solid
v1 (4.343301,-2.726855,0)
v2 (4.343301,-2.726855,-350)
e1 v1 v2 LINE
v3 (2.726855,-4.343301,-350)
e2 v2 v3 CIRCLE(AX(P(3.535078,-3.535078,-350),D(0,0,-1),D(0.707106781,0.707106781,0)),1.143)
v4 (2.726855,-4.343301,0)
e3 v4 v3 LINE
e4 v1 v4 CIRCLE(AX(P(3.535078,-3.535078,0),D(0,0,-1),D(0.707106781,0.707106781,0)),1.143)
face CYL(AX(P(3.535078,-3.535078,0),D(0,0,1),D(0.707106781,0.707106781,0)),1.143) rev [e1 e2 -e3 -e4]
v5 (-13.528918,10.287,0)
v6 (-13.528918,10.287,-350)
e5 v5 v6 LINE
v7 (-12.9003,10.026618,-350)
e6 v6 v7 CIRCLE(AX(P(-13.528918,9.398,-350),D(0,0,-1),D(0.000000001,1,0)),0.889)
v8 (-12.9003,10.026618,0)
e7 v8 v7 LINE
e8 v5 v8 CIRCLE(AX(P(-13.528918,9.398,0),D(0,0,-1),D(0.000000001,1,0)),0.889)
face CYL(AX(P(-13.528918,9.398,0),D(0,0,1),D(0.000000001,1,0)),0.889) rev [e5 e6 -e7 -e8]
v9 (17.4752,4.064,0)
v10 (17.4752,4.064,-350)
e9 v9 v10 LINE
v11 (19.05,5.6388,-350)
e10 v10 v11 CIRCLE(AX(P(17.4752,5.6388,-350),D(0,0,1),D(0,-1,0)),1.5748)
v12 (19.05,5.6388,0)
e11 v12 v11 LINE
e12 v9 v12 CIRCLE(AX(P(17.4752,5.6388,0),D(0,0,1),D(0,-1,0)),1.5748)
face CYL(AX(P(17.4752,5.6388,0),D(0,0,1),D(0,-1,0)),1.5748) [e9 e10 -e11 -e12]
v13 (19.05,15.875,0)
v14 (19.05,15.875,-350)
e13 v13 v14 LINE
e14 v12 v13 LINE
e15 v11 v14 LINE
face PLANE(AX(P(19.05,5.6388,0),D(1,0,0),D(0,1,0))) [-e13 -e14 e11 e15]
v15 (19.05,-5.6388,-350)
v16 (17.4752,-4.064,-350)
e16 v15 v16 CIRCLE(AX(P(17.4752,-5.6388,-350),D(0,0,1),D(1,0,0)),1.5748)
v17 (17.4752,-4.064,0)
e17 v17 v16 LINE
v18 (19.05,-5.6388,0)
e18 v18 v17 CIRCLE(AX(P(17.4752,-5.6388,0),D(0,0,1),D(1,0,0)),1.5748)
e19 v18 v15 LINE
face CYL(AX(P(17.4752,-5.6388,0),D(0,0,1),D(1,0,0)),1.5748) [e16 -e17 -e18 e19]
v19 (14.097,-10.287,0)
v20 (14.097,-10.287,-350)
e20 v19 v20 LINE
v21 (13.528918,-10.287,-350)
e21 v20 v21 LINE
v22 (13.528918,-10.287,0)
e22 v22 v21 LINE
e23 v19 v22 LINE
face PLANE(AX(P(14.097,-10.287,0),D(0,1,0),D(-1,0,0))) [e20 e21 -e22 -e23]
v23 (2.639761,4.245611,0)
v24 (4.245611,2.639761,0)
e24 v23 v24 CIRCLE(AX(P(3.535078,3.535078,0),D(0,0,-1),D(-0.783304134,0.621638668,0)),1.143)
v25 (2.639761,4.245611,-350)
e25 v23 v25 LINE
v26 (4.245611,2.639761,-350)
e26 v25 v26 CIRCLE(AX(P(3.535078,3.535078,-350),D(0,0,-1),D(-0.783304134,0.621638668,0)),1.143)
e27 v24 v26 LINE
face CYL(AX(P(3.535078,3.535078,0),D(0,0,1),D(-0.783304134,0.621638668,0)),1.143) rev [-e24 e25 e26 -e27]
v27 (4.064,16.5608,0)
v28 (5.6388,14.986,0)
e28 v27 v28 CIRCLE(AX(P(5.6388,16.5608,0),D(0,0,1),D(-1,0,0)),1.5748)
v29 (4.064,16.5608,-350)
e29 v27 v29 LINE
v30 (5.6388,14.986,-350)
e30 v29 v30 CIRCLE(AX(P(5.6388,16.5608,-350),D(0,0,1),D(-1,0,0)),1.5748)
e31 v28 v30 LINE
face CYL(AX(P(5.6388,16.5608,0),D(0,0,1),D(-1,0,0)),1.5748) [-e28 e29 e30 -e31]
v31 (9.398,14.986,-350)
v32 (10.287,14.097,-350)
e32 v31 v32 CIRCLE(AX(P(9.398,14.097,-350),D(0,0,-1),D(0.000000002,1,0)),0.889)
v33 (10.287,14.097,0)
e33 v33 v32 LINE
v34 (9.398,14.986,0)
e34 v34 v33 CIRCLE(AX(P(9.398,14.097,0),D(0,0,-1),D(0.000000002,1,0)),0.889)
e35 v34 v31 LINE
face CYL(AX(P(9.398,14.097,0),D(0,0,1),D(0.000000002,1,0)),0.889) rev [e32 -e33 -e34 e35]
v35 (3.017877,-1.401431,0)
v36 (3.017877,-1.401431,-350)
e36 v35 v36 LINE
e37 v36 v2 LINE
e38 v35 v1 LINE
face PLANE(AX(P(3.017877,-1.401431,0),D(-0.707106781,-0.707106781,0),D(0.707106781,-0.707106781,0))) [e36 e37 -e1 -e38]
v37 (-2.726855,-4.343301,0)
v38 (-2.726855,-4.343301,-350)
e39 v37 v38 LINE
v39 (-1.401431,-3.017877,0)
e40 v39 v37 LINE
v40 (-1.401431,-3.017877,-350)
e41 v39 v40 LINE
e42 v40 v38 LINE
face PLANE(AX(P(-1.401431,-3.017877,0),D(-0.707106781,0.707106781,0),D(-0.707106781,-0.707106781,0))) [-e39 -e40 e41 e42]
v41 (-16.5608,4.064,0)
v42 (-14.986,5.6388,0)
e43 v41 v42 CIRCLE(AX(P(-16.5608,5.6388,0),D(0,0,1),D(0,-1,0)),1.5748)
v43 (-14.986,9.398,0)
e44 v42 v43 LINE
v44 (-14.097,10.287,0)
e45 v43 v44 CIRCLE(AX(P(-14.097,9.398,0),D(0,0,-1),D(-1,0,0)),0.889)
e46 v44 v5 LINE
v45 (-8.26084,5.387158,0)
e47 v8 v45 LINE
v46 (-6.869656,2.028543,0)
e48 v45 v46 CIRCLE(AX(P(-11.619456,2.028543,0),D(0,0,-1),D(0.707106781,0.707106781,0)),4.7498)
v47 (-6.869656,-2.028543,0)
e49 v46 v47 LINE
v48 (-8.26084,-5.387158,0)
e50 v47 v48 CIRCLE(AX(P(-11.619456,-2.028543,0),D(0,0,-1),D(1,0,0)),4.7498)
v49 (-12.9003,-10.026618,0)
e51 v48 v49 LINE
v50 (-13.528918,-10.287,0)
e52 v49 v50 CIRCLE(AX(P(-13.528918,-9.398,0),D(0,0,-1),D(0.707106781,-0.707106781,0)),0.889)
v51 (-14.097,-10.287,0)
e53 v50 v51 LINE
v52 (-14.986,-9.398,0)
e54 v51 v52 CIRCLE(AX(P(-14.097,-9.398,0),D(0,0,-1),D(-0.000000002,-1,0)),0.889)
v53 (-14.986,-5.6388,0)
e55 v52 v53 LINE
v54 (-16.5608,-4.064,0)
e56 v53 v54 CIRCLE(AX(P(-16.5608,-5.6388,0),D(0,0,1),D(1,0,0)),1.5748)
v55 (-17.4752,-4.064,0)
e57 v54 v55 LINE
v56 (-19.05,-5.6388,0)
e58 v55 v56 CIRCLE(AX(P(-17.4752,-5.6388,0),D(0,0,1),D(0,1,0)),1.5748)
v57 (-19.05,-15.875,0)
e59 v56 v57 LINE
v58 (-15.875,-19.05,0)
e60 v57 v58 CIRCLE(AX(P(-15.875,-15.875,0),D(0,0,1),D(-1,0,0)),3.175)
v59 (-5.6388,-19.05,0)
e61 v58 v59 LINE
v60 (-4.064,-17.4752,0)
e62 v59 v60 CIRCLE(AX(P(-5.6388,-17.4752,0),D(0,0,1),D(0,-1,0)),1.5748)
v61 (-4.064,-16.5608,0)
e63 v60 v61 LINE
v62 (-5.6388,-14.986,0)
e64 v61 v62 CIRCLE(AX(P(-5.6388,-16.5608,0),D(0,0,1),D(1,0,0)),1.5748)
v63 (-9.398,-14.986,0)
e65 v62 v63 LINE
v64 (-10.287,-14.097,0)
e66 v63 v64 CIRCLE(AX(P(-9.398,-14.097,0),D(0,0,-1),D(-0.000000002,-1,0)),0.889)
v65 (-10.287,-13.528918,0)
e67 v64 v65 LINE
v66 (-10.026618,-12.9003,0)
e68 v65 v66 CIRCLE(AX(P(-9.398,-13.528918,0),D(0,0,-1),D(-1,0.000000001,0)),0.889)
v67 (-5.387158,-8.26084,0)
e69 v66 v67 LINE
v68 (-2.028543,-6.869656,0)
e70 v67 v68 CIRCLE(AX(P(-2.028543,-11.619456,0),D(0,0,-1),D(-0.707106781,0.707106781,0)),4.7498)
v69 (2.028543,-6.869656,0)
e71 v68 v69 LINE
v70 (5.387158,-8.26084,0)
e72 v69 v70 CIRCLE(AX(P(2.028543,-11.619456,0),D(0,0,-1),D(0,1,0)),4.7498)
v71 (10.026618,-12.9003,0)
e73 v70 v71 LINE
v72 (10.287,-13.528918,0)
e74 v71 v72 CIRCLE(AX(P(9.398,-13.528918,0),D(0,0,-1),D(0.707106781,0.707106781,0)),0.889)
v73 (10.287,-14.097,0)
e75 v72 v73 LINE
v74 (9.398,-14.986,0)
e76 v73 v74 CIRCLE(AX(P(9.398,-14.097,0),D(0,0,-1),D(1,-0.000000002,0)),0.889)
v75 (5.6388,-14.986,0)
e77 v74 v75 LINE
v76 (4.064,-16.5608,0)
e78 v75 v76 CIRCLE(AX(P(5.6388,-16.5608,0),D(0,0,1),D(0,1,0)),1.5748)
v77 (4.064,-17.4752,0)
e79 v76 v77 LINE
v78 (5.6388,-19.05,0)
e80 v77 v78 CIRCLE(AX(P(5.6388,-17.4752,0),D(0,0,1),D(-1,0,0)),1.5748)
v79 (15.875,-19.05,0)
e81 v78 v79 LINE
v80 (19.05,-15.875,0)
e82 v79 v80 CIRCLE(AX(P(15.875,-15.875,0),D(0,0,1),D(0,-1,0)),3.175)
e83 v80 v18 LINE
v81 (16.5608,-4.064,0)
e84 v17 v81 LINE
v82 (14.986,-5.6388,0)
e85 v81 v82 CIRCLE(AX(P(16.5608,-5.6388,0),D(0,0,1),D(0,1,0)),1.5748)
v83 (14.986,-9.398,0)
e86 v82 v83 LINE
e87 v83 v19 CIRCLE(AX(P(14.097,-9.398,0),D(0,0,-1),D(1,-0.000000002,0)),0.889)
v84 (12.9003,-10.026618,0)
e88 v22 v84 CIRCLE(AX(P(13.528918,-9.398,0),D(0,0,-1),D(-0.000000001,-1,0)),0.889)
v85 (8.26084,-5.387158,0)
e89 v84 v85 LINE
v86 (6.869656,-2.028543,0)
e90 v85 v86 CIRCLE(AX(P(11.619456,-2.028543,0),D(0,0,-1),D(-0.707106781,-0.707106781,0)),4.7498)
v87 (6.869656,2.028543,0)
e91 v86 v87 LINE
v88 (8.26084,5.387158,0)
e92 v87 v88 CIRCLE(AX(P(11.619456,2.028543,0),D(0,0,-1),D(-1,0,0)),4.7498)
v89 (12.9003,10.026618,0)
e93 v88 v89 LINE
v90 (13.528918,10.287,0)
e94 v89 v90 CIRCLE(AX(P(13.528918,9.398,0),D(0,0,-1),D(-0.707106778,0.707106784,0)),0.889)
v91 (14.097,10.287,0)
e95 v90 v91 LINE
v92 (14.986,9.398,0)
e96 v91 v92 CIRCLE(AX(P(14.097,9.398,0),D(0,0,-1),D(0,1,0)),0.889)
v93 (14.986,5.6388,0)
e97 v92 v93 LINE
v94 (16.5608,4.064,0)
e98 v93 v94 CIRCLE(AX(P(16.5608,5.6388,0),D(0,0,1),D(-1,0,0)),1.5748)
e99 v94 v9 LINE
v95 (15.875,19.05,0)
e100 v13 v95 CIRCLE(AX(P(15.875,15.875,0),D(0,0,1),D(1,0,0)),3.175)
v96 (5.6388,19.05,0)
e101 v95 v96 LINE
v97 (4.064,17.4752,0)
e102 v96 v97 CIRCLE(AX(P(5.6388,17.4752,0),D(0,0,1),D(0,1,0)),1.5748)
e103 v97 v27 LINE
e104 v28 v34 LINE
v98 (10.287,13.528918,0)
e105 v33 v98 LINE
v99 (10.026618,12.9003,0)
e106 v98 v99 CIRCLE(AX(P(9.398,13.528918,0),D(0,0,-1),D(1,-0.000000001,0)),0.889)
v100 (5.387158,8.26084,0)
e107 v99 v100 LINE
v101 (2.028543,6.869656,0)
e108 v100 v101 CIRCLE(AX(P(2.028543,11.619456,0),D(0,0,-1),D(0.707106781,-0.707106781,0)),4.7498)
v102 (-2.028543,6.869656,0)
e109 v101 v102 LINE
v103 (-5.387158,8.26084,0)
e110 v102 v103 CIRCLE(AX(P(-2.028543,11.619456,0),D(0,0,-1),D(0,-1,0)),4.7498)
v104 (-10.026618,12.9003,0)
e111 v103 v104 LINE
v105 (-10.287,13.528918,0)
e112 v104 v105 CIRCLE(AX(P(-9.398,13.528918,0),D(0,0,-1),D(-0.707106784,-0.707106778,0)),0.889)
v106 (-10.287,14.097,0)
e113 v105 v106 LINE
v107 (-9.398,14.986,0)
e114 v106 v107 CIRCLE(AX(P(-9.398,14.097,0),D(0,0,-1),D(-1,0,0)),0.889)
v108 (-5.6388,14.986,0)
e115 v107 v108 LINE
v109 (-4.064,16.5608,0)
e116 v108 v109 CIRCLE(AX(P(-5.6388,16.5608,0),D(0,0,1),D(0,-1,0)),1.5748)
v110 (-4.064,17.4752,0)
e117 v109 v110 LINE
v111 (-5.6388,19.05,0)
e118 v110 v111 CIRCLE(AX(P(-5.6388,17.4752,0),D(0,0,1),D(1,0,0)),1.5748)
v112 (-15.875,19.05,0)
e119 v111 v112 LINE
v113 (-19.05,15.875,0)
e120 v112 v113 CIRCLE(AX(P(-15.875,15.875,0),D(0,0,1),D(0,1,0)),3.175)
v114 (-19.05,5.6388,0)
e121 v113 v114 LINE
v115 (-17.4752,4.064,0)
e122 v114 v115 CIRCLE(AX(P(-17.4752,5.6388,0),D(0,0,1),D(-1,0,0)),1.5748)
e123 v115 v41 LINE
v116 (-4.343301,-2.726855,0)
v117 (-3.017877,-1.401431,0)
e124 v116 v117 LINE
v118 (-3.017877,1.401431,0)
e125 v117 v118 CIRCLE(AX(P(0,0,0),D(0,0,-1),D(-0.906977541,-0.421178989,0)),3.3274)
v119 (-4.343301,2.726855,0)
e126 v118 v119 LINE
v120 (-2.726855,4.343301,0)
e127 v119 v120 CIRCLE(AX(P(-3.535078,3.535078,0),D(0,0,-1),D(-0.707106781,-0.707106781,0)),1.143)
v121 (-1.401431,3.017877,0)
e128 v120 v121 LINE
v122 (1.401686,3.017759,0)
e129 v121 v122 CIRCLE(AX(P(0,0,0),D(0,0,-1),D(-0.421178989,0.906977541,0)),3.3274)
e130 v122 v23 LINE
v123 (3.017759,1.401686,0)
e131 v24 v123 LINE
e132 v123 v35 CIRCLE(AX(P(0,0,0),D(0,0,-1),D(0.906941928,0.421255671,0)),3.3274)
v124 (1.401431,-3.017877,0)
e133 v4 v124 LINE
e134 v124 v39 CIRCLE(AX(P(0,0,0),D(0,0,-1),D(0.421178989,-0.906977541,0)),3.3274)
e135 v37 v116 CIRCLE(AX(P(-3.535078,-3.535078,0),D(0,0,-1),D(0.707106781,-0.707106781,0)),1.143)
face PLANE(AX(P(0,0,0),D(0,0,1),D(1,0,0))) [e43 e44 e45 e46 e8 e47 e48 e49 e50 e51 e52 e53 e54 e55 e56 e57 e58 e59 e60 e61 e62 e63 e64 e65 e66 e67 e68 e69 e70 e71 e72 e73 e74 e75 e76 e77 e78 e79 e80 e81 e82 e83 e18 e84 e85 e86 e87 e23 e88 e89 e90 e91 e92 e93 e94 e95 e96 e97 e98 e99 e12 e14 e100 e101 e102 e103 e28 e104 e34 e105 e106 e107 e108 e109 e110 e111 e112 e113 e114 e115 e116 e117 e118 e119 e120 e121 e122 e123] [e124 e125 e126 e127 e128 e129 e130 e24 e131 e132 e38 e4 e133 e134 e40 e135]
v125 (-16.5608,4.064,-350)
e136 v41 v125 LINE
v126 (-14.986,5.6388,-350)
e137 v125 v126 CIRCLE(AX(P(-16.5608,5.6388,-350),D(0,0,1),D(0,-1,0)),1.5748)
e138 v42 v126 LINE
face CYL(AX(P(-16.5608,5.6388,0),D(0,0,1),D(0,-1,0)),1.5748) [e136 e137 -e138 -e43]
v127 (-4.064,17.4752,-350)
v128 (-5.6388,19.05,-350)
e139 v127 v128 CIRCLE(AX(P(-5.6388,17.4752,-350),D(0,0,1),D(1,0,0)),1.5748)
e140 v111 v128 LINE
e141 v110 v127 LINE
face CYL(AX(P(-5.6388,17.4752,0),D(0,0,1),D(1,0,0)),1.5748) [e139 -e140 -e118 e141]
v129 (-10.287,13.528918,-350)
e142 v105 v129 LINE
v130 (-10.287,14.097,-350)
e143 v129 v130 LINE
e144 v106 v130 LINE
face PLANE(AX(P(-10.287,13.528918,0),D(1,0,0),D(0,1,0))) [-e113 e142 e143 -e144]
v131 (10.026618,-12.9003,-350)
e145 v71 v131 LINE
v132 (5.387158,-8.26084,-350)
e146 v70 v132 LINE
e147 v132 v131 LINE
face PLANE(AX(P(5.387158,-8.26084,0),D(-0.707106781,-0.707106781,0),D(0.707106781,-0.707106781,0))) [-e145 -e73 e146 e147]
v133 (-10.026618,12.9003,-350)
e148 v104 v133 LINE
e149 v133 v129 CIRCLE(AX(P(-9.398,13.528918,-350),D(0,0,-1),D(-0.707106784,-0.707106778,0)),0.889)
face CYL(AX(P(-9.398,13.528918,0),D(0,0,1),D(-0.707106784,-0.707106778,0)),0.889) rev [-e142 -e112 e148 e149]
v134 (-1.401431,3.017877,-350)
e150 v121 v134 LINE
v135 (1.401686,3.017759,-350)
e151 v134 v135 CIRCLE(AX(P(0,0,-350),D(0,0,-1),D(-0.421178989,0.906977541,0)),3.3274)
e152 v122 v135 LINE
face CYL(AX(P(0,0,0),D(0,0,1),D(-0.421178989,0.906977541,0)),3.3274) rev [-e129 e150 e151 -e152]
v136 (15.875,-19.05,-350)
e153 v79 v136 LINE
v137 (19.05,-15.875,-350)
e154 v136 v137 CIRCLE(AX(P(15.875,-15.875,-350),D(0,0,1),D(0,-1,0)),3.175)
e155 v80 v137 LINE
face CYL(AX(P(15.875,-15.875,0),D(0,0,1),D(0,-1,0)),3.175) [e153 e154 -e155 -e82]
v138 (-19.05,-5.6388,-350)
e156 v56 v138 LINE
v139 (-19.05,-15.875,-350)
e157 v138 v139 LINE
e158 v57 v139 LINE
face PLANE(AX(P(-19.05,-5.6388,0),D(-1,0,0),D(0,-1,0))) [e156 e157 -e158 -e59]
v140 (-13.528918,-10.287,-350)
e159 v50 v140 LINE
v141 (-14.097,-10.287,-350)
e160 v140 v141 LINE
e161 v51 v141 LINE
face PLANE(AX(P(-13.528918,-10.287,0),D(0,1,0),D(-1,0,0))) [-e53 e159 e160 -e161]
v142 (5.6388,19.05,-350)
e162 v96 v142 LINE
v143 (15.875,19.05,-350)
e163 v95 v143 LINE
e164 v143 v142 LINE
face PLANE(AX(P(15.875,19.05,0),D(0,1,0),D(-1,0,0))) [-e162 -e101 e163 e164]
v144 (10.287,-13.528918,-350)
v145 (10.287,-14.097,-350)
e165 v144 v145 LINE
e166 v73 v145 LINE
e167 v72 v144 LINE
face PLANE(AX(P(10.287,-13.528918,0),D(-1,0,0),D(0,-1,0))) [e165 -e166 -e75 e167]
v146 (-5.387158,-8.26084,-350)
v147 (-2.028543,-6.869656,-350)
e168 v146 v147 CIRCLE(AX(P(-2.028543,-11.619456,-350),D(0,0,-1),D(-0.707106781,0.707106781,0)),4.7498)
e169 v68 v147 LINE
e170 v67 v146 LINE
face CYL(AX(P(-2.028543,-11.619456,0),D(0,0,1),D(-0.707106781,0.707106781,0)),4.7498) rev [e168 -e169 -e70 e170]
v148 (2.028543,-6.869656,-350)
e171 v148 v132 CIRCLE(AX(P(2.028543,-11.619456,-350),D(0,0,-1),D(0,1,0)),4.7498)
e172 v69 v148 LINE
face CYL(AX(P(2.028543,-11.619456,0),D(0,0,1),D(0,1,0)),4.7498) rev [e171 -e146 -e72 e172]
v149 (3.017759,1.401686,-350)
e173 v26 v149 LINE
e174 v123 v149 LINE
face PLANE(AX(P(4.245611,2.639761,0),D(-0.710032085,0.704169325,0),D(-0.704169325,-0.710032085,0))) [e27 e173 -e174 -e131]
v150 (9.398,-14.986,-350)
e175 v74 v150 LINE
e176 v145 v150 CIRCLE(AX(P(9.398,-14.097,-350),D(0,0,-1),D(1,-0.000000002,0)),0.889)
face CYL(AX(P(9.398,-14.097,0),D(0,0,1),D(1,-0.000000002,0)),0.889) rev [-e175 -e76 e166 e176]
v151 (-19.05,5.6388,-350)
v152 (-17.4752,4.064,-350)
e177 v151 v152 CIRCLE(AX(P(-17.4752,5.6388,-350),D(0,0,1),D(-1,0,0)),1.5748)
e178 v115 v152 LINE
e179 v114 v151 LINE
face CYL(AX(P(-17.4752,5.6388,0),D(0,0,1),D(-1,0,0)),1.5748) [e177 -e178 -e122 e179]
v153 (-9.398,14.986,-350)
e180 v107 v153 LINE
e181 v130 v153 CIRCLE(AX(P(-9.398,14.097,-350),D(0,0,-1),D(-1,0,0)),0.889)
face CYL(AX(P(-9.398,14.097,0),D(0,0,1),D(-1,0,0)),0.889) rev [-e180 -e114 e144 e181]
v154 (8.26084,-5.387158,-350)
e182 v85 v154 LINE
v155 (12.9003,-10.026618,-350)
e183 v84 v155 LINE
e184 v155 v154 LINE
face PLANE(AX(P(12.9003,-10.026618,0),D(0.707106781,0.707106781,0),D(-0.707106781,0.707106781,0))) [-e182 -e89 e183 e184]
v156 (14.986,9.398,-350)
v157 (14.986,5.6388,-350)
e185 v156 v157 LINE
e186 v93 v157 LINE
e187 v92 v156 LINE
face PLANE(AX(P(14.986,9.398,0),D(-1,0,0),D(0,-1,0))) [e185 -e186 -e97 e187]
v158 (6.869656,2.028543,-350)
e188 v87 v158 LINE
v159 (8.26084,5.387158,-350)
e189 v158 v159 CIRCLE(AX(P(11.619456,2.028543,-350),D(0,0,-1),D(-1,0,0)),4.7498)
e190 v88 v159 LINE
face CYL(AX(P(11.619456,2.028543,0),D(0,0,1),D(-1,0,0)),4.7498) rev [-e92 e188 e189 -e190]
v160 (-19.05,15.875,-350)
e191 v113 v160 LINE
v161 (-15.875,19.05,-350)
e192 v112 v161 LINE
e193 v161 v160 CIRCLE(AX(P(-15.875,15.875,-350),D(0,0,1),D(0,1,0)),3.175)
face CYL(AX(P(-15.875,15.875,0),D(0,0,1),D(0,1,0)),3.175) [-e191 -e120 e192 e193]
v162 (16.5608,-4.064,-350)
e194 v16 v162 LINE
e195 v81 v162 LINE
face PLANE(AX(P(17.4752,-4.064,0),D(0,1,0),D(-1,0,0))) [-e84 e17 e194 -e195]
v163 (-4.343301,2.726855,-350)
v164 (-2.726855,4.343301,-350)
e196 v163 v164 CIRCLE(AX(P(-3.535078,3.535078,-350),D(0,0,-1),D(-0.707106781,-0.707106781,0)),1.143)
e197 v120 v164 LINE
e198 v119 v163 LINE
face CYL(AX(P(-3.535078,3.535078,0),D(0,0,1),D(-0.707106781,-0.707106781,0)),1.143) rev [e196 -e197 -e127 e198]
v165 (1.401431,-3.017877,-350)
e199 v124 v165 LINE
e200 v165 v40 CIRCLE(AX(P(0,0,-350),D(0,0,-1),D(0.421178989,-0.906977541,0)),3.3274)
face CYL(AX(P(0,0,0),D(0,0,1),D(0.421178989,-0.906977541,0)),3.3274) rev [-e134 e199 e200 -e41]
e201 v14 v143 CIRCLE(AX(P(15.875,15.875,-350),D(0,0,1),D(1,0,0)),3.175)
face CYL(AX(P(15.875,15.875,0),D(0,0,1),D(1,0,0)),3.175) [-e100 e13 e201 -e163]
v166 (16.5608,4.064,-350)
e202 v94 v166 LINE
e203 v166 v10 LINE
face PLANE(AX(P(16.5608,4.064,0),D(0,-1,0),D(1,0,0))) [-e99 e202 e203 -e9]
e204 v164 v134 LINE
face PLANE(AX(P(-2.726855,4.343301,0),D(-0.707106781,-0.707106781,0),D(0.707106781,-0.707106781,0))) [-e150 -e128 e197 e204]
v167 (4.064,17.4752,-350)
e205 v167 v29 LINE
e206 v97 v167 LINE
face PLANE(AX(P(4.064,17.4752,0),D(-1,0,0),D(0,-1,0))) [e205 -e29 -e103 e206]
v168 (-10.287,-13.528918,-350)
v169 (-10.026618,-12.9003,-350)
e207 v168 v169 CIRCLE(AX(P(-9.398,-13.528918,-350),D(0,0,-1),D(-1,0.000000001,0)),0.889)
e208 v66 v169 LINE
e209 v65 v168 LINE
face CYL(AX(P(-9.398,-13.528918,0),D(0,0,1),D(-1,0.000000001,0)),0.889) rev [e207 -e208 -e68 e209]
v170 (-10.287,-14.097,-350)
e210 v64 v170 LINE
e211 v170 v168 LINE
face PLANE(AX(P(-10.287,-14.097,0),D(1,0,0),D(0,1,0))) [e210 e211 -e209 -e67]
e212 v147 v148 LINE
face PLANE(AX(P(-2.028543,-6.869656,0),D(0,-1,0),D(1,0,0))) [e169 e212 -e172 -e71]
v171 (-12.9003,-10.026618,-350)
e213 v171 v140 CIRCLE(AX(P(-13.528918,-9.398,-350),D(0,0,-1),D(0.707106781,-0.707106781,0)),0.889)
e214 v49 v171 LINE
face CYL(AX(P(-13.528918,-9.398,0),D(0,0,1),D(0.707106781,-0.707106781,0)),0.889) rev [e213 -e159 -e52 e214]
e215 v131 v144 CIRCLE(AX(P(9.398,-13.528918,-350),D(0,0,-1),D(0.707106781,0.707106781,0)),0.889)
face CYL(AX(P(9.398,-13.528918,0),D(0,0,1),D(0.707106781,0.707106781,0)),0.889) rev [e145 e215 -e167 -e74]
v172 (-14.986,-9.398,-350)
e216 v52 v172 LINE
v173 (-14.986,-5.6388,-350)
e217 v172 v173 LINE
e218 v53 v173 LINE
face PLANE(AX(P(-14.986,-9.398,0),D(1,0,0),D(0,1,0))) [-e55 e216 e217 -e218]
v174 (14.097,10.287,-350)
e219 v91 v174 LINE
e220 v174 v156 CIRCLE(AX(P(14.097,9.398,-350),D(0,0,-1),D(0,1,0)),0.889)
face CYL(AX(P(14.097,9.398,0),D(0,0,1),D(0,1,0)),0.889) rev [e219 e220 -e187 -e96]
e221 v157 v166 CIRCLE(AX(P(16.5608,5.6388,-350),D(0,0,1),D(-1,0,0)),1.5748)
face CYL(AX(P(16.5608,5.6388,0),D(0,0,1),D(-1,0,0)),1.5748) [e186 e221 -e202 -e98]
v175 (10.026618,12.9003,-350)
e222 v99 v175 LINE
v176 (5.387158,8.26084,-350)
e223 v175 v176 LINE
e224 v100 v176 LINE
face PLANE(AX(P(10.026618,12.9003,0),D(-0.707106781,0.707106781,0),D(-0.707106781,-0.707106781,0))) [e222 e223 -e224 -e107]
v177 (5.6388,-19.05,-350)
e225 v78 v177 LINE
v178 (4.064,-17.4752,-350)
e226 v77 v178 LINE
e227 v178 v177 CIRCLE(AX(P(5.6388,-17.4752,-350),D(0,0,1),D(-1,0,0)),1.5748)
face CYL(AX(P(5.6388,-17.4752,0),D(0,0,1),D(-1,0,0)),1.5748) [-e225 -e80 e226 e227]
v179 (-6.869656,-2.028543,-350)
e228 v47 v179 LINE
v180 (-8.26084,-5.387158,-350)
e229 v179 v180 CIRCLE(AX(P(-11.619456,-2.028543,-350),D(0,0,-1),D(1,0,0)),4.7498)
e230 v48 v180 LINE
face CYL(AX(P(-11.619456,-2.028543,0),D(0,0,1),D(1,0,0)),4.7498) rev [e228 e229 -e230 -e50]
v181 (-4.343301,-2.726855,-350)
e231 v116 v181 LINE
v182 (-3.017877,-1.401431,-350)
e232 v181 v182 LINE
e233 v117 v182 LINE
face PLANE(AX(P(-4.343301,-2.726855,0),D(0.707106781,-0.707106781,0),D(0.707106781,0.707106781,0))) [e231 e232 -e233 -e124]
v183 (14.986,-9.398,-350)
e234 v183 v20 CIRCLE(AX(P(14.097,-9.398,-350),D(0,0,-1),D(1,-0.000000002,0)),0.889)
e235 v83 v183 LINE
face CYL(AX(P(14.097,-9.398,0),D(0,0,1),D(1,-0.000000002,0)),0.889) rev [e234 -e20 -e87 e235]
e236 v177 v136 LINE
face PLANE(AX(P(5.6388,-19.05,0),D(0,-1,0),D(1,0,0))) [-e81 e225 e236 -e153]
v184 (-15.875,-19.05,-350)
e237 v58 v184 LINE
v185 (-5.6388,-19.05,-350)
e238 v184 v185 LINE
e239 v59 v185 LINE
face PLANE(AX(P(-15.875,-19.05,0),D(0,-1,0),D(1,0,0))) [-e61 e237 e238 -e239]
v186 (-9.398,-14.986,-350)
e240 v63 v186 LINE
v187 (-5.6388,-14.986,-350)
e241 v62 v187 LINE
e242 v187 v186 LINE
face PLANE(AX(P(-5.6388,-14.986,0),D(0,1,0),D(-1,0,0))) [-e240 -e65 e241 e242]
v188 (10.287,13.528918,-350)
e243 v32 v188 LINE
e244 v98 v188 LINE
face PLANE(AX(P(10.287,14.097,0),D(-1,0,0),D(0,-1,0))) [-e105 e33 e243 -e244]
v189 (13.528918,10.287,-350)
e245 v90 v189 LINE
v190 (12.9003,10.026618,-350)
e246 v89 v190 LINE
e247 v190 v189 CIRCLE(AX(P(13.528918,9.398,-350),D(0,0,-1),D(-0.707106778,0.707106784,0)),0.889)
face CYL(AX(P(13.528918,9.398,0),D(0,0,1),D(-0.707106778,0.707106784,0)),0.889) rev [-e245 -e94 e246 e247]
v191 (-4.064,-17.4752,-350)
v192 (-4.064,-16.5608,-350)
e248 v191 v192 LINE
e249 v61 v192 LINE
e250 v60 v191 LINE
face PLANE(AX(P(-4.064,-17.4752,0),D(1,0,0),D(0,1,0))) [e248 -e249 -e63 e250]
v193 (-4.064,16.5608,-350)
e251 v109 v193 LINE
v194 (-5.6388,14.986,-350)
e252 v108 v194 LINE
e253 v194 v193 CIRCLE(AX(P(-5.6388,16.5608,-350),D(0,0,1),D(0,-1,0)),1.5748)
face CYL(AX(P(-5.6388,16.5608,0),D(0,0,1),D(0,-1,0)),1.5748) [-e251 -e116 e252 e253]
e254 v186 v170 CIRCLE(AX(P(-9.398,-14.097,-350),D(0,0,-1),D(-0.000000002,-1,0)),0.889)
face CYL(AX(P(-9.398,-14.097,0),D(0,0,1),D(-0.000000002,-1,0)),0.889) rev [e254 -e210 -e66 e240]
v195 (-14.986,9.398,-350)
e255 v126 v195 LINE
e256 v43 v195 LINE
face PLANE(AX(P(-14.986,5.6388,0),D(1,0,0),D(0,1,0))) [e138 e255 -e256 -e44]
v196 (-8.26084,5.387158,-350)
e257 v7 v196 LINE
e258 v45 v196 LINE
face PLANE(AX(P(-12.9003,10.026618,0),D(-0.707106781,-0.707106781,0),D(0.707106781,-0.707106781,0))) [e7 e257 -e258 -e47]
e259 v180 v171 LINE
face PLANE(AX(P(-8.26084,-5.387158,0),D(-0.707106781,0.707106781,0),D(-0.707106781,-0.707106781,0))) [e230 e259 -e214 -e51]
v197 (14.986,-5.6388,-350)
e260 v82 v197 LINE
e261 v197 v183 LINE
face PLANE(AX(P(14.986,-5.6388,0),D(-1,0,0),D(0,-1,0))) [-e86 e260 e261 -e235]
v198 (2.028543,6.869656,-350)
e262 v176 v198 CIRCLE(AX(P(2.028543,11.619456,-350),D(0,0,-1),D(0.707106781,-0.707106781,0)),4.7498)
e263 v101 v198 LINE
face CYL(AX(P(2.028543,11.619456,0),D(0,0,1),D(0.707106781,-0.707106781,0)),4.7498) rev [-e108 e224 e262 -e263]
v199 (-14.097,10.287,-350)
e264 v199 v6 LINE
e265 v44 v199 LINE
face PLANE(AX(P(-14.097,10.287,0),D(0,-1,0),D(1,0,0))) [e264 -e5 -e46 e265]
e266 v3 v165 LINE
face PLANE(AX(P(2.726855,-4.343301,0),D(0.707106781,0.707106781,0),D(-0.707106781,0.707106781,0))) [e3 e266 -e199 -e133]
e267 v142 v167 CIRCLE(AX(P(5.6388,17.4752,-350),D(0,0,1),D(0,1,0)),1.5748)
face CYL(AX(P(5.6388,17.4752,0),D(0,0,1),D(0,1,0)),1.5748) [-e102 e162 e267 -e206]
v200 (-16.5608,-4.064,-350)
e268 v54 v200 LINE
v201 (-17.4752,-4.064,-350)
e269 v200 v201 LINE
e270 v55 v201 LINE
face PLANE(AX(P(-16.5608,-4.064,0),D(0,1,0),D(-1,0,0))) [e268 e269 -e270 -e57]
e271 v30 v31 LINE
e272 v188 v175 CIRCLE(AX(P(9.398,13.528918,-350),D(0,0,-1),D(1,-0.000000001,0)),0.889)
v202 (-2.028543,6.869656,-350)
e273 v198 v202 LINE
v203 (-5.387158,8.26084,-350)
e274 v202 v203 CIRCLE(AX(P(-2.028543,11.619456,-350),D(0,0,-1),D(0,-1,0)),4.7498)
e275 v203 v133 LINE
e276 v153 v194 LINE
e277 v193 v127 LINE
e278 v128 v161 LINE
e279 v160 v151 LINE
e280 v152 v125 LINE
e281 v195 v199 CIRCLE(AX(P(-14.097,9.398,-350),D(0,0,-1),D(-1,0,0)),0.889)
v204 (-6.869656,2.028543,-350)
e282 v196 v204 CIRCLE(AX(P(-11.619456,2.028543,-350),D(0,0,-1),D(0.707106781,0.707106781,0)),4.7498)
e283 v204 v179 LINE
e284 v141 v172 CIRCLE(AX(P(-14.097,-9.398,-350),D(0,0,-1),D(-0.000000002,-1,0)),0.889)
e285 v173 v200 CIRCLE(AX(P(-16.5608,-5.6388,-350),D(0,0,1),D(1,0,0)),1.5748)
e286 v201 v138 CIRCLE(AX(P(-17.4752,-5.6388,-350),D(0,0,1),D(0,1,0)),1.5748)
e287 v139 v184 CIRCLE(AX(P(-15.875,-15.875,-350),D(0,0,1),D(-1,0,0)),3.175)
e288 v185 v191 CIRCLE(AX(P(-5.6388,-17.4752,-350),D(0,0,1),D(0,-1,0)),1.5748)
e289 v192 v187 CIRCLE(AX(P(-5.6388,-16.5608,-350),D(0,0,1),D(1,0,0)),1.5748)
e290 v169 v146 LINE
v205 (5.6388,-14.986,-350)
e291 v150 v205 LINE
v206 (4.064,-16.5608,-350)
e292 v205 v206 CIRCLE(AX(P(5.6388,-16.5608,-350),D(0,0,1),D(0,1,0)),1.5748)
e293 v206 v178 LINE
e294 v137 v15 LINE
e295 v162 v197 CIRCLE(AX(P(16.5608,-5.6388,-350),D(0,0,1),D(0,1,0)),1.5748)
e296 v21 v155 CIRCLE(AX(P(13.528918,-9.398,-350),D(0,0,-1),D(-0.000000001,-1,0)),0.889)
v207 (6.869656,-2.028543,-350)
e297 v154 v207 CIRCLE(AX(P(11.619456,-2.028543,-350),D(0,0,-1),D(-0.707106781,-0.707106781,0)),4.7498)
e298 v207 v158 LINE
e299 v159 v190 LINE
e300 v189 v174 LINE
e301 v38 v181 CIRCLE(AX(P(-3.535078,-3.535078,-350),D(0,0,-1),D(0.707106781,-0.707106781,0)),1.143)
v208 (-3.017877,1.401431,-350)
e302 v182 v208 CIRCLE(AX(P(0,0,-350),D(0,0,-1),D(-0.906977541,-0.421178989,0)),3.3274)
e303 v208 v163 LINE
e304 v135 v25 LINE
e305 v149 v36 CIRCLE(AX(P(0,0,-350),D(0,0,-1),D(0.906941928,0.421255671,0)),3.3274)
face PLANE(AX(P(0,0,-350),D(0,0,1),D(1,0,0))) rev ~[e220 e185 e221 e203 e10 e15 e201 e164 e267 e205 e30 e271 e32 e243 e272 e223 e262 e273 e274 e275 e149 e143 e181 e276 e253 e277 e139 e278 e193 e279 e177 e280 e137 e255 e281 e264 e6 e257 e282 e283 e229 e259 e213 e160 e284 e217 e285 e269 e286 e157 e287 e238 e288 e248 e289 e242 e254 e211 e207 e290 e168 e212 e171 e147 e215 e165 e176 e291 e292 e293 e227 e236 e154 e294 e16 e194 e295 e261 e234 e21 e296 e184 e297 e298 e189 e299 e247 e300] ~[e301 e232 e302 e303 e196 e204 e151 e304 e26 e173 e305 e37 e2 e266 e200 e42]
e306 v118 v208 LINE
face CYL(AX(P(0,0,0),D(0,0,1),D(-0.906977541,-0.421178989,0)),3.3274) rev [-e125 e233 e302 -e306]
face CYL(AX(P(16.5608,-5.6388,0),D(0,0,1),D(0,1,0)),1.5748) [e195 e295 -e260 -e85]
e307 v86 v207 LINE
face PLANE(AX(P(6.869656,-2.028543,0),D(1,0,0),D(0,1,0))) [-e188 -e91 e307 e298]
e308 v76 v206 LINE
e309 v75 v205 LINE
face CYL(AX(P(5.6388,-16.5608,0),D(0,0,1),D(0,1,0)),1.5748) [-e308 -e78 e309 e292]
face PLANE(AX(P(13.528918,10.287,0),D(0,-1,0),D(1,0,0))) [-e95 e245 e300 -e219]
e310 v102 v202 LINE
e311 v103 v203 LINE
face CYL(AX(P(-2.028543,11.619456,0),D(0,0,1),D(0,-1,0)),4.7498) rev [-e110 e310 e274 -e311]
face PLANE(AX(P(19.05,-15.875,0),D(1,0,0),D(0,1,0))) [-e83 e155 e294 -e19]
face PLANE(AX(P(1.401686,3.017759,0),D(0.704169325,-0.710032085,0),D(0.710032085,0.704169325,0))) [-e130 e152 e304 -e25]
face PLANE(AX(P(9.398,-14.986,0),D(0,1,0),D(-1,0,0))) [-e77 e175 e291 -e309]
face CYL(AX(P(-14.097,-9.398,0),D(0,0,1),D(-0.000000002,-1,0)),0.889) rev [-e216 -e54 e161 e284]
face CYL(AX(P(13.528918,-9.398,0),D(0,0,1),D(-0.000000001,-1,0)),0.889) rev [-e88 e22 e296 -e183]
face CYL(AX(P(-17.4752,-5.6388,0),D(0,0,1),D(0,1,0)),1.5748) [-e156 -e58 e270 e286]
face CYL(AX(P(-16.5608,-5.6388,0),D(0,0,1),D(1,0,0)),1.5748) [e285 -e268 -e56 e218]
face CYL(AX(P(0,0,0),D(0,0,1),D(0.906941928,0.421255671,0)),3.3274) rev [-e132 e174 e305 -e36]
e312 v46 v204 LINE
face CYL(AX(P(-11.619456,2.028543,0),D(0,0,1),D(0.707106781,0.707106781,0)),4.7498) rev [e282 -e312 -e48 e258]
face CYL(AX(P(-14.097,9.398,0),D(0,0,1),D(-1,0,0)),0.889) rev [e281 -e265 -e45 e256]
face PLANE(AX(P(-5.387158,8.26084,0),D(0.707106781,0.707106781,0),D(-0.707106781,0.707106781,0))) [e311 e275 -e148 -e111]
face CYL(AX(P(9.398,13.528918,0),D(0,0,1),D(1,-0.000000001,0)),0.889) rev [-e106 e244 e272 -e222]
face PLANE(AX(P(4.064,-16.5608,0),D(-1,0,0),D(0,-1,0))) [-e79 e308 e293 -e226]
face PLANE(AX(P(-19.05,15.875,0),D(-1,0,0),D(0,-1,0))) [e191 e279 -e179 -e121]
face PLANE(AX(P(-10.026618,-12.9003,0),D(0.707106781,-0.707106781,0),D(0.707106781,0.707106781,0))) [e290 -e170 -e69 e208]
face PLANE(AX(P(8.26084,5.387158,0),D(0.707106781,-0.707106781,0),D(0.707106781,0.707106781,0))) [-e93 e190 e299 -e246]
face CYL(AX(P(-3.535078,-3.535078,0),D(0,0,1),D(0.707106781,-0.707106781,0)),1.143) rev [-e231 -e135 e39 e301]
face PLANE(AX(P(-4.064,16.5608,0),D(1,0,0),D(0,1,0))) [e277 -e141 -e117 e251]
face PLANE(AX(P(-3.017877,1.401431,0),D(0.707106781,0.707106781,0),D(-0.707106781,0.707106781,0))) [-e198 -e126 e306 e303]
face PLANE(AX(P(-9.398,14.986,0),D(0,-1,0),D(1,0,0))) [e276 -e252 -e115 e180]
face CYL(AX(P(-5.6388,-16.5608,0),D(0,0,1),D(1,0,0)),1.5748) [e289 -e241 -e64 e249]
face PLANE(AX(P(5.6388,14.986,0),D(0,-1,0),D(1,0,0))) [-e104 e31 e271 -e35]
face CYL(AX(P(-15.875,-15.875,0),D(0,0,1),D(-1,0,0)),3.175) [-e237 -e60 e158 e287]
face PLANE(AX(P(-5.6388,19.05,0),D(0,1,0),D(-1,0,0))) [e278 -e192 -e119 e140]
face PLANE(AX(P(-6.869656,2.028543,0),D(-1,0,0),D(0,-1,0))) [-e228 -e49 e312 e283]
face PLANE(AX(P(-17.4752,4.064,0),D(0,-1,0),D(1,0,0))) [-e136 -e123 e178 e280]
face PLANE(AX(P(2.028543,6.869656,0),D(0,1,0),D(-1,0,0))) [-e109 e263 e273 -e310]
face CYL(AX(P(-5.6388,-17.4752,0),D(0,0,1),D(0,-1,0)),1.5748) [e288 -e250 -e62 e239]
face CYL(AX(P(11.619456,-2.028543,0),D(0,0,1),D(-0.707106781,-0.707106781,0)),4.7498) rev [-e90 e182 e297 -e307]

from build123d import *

# Parameters (mm, degrees)
EXTRUDE1_DEPTH = 350


with BuildPart() as part:
    # Sketch1 → Extrude1 (new body)
    with BuildSketch(Plane.XY):
        with BuildLine():
            Line((14.986, -5.6388), (14.986, -9.398))
            ThreePointArc((14.986, -9.398), (14.725617928, -10.026617928), (14.097, -10.287))
            Line((14.097, -10.287), (13.528917816, -10.287))
            ThreePointArc((13.528917816, -10.287), (13.188712244, -10.219328904), (12.900299887, -10.026617928))
            Line((12.900299887, -10.026617928), (8.260840349, -5.38715839))
            ThreePointArc((8.260840349, -5.38715839), (7.231213135, -3.846212368), (6.869656138, -2.028542601))
            Line((6.869656138, -2.028542601), (6.869656138, 2.028542601))
            ThreePointArc((6.869656138, 2.028542601), (7.231213135, 3.846212368), (8.260840349, 5.38715839))
            Line((8.260840349, 5.38715839), (12.900299887, 10.026617929))
            ThreePointArc((12.900299887, 10.026617929), (13.188712244, 10.219328904), (13.528917816, 10.287))
            Line((13.528917816, 10.287), (14.097, 10.287))
            ThreePointArc((14.097, 10.287), (14.725617928, 10.026617929), (14.986, 9.398))
            Line((14.986, 9.398), (14.986, 5.6388))
            ThreePointArc((14.986, 5.6388), (15.447248241, 4.525248241), (16.5608, 4.064))
            Line((16.5608, 4.064), (17.4752, 4.064))
            ThreePointArc((17.4752, 4.064), (18.588751759, 4.525248241), (19.05, 5.6388))
            Line((19.05, 5.6388), (19.05, 15.875))
            ThreePointArc((19.05, 15.875), (18.12006403, 18.12006403), (15.875, 19.05))
            Line((15.875, 19.05), (5.6388, 19.05))
            ThreePointArc((5.6388, 19.05), (4.525248241, 18.588751759), (4.064, 17.4752))
            Line((4.064, 17.4752), (4.064, 16.5608))
            ThreePointArc((4.064, 16.5608), (4.525248241, 15.447248241), (5.6388, 14.986))
            Line((5.6388, 14.986), (9.398, 14.986))
            ThreePointArc((9.398, 14.986), (10.026617928, 14.725617928), (10.287, 14.097))
            Line((10.287, 14.097), (10.287, 13.528917816))
            ThreePointArc((10.287, 13.528917816), (10.219328904, 13.188712244), (10.026617928, 12.900299887))
            Line((10.026617928, 12.900299887), (5.38715839, 8.260840349))
            ThreePointArc((5.38715839, 8.260840349), (3.846212368, 7.231213135), (2.028542601, 6.869656138))
            Line((2.028542601, 6.869656138), (-2.028542601, 6.869656138))
            ThreePointArc((-2.028542601, 6.869656138), (-3.846212368, 7.231213135), (-5.38715839, 8.260840349))
            Line((-5.38715839, 8.260840349), (-10.026617929, 12.900299887))
            ThreePointArc((-10.026617929, 12.900299887), (-10.219328904, 13.188712244), (-10.287, 13.528917816))
            Line((-10.287, 13.528917816), (-10.287, 14.097))
            ThreePointArc((-10.287, 14.097), (-10.026617929, 14.725617928), (-9.398, 14.986))
            Line((-9.398, 14.986), (-5.6388, 14.986))
            ThreePointArc((-5.6388, 14.986), (-4.525248241, 15.447248241), (-4.064, 16.5608))
            Line((-4.064, 16.5608), (-4.064, 17.4752))
            ThreePointArc((-4.064, 17.4752), (-4.525248241, 18.588751759), (-5.6388, 19.05))
            Line((-5.6388, 19.05), (-15.875, 19.05))
            ThreePointArc((-15.875, 19.05), (-18.12006403, 18.12006403), (-19.05, 15.875))
            Line((-19.05, 15.875), (-19.05, 5.6388))
            ThreePointArc((-19.05, 5.6388), (-18.588751759, 4.525248241), (-17.4752, 4.064))
            Line((-17.4752, 4.064), (-16.5608, 4.064))
            ThreePointArc((-16.5608, 4.064), (-15.447248241, 4.525248241), (-14.986, 5.6388))
            Line((-14.986, 5.6388), (-14.986, 9.398))
            ThreePointArc((-14.986, 9.398), (-14.725617929, 10.026617928), (-14.097, 10.287))
            Line((-14.097, 10.287), (-13.528917816, 10.287))
            ThreePointArc((-13.528917816, 10.287), (-13.188712244, 10.219328904), (-12.900299887, 10.026617928))
            Line((-12.900299887, 10.026617928), (-8.260840349, 5.38715839))
            ThreePointArc((-8.260840349, 5.38715839), (-7.231213135, 3.846212368), (-6.869656138, 2.028542601))
            Line((-6.869656138, 2.028542601), (-6.869656138, -2.028542601))
            ThreePointArc((-6.869656138, -2.028542601), (-7.231213135, -3.846212368), (-8.260840349, -5.38715839))
            Line((-8.260840349, -5.38715839), (-12.900299887, -10.026617928))
            ThreePointArc((-12.900299887, -10.026617928), (-13.188712244, -10.219328904), (-13.528917816, -10.287))
            Line((-13.528917816, -10.287), (-14.097, -10.287))
            ThreePointArc((-14.097, -10.287), (-14.725617928, -10.026617928), (-14.986, -9.398))
            Line((-14.986, -9.398), (-14.986, -5.6388))
            ThreePointArc((-14.986, -5.6388), (-15.447248241, -4.525248241), (-16.5608, -4.064))
            Line((-16.5608, -4.064), (-17.4752, -4.064))
            ThreePointArc((-17.4752, -4.064), (-18.588751759, -4.525248241), (-19.05, -5.6388))
            Line((-19.05, -5.6388), (-19.05, -15.875))
            ThreePointArc((-19.05, -15.875), (-18.12006403, -18.12006403), (-15.875, -19.05))
            Line((-15.875, -19.05), (-5.6388, -19.05))
            ThreePointArc((-5.6388, -19.05), (-4.525248241, -18.588751759), (-4.064, -17.4752))
            Line((-4.064, -17.4752), (-4.064, -16.5608))
            ThreePointArc((-4.064, -16.5608), (-4.525248241, -15.447248241), (-5.6388, -14.986))
            Line((-5.6388, -14.986), (-9.398, -14.986))
            ThreePointArc((-9.398, -14.986), (-10.026617928, -14.725617928), (-10.287, -14.097))
            Line((-10.287, -14.097), (-10.287, -13.528917816))
            ThreePointArc((-10.287, -13.528917816), (-10.219328904, -13.188712244), (-10.026617928, -12.900299887))
            Line((-10.026617928, -12.900299887), (-5.38715839, -8.260840349))
            ThreePointArc((-5.38715839, -8.260840349), (-3.846212368, -7.231213135), (-2.028542601, -6.869656138))
            Line((-2.028542601, -6.869656138), (2.028542601, -6.869656138))
            ThreePointArc((2.028542601, -6.869656138), (3.846212368, -7.231213135), (5.38715839, -8.260840349))
            Line((5.38715839, -8.260840349), (10.026617928, -12.900299887))
            ThreePointArc((10.026617928, -12.900299887), (10.219328904, -13.188712244), (10.287, -13.528917816))
            Line((10.287, -13.528917816), (10.287, -14.097))
            ThreePointArc((10.287, -14.097), (10.026617928, -14.725617928), (9.398, -14.986))
            Line((9.398, -14.986), (5.6388, -14.986))
            ThreePointArc((5.6388, -14.986), (4.525248241, -15.447248241), (4.064, -16.5608))
            Line((4.064, -16.5608), (4.064, -17.4752))
            ThreePointArc((4.064, -17.4752), (4.525248241, -18.588751759), (5.6388, -19.05))
            Line((5.6388, -19.05), (15.875, -19.05))
            ThreePointArc((15.875, -19.05), (18.12006403, -18.12006403), (19.05, -15.875))
            Line((19.05, -15.875), (19.05, -5.6388))
            ThreePointArc((19.05, -5.6388), (18.588751759, -4.525248241), (17.4752, -4.064))
            Line((17.4752, -4.064), (16.5608, -4.064))
            ThreePointArc((16.5608, -4.064), (15.447248241, -4.525248241), (14.986, -5.6388))
        make_face()
        with BuildLine():
            Line((4.24561082, 2.639761197), (3.01775857, 1.401686117))
            ThreePointArc((3.01775857, 1.401686117), (3.327399997, 0.000140662), (3.017877069, -1.401430967))
            Line((3.017877069, -1.401430967), (4.343300873, -2.726854771))
            ThreePointArc((4.343300873, -2.726854771), (4.343300873, -4.343300873), (2.726854771, -4.343300873))
            Line((2.726854771, -4.343300873), (1.401430967, -3.017877069))
            ThreePointArc((1.401430967, -3.017877069), (0, -3.3274), (-1.401430967, -3.017877069))
            Line((-1.401430967, -3.017877069), (-2.726854771, -4.343300873))
            ThreePointArc((-2.726854771, -4.343300873), (-4.343300873, -4.343300873), (-4.343300873, -2.726854771))
            Line((-4.343300873, -2.726854771), (-3.017877069, -1.401430967))
            ThreePointArc((-3.017877069, -1.401430967), (-3.3274, 0), (-3.017877069, 1.401430967))
            Line((-3.017877069, 1.401430967), (-4.343300873, 2.726854771))
            ThreePointArc((-4.343300873, 2.726854771), (-4.343300873, 4.343300873), (-2.726854771, 4.343300873))
            Line((-2.726854771, 4.343300873), (-1.401430967, 3.017877069))
            ThreePointArc((-1.401430967, 3.017877069), (0.000140662, 3.327399997), (1.401686117, 3.01775857))
            Line((1.401686117, 3.01775857), (2.639761197, 4.24561082))
            ThreePointArc((2.639761197, 4.24561082), (4.343300873, 4.343300873), (4.24561082, 2.639761197))
        make_face(mode=Mode.SUBTRACT)
    extrude(amount=-EXTRUDE1_DEPTH)


solid = part.part
